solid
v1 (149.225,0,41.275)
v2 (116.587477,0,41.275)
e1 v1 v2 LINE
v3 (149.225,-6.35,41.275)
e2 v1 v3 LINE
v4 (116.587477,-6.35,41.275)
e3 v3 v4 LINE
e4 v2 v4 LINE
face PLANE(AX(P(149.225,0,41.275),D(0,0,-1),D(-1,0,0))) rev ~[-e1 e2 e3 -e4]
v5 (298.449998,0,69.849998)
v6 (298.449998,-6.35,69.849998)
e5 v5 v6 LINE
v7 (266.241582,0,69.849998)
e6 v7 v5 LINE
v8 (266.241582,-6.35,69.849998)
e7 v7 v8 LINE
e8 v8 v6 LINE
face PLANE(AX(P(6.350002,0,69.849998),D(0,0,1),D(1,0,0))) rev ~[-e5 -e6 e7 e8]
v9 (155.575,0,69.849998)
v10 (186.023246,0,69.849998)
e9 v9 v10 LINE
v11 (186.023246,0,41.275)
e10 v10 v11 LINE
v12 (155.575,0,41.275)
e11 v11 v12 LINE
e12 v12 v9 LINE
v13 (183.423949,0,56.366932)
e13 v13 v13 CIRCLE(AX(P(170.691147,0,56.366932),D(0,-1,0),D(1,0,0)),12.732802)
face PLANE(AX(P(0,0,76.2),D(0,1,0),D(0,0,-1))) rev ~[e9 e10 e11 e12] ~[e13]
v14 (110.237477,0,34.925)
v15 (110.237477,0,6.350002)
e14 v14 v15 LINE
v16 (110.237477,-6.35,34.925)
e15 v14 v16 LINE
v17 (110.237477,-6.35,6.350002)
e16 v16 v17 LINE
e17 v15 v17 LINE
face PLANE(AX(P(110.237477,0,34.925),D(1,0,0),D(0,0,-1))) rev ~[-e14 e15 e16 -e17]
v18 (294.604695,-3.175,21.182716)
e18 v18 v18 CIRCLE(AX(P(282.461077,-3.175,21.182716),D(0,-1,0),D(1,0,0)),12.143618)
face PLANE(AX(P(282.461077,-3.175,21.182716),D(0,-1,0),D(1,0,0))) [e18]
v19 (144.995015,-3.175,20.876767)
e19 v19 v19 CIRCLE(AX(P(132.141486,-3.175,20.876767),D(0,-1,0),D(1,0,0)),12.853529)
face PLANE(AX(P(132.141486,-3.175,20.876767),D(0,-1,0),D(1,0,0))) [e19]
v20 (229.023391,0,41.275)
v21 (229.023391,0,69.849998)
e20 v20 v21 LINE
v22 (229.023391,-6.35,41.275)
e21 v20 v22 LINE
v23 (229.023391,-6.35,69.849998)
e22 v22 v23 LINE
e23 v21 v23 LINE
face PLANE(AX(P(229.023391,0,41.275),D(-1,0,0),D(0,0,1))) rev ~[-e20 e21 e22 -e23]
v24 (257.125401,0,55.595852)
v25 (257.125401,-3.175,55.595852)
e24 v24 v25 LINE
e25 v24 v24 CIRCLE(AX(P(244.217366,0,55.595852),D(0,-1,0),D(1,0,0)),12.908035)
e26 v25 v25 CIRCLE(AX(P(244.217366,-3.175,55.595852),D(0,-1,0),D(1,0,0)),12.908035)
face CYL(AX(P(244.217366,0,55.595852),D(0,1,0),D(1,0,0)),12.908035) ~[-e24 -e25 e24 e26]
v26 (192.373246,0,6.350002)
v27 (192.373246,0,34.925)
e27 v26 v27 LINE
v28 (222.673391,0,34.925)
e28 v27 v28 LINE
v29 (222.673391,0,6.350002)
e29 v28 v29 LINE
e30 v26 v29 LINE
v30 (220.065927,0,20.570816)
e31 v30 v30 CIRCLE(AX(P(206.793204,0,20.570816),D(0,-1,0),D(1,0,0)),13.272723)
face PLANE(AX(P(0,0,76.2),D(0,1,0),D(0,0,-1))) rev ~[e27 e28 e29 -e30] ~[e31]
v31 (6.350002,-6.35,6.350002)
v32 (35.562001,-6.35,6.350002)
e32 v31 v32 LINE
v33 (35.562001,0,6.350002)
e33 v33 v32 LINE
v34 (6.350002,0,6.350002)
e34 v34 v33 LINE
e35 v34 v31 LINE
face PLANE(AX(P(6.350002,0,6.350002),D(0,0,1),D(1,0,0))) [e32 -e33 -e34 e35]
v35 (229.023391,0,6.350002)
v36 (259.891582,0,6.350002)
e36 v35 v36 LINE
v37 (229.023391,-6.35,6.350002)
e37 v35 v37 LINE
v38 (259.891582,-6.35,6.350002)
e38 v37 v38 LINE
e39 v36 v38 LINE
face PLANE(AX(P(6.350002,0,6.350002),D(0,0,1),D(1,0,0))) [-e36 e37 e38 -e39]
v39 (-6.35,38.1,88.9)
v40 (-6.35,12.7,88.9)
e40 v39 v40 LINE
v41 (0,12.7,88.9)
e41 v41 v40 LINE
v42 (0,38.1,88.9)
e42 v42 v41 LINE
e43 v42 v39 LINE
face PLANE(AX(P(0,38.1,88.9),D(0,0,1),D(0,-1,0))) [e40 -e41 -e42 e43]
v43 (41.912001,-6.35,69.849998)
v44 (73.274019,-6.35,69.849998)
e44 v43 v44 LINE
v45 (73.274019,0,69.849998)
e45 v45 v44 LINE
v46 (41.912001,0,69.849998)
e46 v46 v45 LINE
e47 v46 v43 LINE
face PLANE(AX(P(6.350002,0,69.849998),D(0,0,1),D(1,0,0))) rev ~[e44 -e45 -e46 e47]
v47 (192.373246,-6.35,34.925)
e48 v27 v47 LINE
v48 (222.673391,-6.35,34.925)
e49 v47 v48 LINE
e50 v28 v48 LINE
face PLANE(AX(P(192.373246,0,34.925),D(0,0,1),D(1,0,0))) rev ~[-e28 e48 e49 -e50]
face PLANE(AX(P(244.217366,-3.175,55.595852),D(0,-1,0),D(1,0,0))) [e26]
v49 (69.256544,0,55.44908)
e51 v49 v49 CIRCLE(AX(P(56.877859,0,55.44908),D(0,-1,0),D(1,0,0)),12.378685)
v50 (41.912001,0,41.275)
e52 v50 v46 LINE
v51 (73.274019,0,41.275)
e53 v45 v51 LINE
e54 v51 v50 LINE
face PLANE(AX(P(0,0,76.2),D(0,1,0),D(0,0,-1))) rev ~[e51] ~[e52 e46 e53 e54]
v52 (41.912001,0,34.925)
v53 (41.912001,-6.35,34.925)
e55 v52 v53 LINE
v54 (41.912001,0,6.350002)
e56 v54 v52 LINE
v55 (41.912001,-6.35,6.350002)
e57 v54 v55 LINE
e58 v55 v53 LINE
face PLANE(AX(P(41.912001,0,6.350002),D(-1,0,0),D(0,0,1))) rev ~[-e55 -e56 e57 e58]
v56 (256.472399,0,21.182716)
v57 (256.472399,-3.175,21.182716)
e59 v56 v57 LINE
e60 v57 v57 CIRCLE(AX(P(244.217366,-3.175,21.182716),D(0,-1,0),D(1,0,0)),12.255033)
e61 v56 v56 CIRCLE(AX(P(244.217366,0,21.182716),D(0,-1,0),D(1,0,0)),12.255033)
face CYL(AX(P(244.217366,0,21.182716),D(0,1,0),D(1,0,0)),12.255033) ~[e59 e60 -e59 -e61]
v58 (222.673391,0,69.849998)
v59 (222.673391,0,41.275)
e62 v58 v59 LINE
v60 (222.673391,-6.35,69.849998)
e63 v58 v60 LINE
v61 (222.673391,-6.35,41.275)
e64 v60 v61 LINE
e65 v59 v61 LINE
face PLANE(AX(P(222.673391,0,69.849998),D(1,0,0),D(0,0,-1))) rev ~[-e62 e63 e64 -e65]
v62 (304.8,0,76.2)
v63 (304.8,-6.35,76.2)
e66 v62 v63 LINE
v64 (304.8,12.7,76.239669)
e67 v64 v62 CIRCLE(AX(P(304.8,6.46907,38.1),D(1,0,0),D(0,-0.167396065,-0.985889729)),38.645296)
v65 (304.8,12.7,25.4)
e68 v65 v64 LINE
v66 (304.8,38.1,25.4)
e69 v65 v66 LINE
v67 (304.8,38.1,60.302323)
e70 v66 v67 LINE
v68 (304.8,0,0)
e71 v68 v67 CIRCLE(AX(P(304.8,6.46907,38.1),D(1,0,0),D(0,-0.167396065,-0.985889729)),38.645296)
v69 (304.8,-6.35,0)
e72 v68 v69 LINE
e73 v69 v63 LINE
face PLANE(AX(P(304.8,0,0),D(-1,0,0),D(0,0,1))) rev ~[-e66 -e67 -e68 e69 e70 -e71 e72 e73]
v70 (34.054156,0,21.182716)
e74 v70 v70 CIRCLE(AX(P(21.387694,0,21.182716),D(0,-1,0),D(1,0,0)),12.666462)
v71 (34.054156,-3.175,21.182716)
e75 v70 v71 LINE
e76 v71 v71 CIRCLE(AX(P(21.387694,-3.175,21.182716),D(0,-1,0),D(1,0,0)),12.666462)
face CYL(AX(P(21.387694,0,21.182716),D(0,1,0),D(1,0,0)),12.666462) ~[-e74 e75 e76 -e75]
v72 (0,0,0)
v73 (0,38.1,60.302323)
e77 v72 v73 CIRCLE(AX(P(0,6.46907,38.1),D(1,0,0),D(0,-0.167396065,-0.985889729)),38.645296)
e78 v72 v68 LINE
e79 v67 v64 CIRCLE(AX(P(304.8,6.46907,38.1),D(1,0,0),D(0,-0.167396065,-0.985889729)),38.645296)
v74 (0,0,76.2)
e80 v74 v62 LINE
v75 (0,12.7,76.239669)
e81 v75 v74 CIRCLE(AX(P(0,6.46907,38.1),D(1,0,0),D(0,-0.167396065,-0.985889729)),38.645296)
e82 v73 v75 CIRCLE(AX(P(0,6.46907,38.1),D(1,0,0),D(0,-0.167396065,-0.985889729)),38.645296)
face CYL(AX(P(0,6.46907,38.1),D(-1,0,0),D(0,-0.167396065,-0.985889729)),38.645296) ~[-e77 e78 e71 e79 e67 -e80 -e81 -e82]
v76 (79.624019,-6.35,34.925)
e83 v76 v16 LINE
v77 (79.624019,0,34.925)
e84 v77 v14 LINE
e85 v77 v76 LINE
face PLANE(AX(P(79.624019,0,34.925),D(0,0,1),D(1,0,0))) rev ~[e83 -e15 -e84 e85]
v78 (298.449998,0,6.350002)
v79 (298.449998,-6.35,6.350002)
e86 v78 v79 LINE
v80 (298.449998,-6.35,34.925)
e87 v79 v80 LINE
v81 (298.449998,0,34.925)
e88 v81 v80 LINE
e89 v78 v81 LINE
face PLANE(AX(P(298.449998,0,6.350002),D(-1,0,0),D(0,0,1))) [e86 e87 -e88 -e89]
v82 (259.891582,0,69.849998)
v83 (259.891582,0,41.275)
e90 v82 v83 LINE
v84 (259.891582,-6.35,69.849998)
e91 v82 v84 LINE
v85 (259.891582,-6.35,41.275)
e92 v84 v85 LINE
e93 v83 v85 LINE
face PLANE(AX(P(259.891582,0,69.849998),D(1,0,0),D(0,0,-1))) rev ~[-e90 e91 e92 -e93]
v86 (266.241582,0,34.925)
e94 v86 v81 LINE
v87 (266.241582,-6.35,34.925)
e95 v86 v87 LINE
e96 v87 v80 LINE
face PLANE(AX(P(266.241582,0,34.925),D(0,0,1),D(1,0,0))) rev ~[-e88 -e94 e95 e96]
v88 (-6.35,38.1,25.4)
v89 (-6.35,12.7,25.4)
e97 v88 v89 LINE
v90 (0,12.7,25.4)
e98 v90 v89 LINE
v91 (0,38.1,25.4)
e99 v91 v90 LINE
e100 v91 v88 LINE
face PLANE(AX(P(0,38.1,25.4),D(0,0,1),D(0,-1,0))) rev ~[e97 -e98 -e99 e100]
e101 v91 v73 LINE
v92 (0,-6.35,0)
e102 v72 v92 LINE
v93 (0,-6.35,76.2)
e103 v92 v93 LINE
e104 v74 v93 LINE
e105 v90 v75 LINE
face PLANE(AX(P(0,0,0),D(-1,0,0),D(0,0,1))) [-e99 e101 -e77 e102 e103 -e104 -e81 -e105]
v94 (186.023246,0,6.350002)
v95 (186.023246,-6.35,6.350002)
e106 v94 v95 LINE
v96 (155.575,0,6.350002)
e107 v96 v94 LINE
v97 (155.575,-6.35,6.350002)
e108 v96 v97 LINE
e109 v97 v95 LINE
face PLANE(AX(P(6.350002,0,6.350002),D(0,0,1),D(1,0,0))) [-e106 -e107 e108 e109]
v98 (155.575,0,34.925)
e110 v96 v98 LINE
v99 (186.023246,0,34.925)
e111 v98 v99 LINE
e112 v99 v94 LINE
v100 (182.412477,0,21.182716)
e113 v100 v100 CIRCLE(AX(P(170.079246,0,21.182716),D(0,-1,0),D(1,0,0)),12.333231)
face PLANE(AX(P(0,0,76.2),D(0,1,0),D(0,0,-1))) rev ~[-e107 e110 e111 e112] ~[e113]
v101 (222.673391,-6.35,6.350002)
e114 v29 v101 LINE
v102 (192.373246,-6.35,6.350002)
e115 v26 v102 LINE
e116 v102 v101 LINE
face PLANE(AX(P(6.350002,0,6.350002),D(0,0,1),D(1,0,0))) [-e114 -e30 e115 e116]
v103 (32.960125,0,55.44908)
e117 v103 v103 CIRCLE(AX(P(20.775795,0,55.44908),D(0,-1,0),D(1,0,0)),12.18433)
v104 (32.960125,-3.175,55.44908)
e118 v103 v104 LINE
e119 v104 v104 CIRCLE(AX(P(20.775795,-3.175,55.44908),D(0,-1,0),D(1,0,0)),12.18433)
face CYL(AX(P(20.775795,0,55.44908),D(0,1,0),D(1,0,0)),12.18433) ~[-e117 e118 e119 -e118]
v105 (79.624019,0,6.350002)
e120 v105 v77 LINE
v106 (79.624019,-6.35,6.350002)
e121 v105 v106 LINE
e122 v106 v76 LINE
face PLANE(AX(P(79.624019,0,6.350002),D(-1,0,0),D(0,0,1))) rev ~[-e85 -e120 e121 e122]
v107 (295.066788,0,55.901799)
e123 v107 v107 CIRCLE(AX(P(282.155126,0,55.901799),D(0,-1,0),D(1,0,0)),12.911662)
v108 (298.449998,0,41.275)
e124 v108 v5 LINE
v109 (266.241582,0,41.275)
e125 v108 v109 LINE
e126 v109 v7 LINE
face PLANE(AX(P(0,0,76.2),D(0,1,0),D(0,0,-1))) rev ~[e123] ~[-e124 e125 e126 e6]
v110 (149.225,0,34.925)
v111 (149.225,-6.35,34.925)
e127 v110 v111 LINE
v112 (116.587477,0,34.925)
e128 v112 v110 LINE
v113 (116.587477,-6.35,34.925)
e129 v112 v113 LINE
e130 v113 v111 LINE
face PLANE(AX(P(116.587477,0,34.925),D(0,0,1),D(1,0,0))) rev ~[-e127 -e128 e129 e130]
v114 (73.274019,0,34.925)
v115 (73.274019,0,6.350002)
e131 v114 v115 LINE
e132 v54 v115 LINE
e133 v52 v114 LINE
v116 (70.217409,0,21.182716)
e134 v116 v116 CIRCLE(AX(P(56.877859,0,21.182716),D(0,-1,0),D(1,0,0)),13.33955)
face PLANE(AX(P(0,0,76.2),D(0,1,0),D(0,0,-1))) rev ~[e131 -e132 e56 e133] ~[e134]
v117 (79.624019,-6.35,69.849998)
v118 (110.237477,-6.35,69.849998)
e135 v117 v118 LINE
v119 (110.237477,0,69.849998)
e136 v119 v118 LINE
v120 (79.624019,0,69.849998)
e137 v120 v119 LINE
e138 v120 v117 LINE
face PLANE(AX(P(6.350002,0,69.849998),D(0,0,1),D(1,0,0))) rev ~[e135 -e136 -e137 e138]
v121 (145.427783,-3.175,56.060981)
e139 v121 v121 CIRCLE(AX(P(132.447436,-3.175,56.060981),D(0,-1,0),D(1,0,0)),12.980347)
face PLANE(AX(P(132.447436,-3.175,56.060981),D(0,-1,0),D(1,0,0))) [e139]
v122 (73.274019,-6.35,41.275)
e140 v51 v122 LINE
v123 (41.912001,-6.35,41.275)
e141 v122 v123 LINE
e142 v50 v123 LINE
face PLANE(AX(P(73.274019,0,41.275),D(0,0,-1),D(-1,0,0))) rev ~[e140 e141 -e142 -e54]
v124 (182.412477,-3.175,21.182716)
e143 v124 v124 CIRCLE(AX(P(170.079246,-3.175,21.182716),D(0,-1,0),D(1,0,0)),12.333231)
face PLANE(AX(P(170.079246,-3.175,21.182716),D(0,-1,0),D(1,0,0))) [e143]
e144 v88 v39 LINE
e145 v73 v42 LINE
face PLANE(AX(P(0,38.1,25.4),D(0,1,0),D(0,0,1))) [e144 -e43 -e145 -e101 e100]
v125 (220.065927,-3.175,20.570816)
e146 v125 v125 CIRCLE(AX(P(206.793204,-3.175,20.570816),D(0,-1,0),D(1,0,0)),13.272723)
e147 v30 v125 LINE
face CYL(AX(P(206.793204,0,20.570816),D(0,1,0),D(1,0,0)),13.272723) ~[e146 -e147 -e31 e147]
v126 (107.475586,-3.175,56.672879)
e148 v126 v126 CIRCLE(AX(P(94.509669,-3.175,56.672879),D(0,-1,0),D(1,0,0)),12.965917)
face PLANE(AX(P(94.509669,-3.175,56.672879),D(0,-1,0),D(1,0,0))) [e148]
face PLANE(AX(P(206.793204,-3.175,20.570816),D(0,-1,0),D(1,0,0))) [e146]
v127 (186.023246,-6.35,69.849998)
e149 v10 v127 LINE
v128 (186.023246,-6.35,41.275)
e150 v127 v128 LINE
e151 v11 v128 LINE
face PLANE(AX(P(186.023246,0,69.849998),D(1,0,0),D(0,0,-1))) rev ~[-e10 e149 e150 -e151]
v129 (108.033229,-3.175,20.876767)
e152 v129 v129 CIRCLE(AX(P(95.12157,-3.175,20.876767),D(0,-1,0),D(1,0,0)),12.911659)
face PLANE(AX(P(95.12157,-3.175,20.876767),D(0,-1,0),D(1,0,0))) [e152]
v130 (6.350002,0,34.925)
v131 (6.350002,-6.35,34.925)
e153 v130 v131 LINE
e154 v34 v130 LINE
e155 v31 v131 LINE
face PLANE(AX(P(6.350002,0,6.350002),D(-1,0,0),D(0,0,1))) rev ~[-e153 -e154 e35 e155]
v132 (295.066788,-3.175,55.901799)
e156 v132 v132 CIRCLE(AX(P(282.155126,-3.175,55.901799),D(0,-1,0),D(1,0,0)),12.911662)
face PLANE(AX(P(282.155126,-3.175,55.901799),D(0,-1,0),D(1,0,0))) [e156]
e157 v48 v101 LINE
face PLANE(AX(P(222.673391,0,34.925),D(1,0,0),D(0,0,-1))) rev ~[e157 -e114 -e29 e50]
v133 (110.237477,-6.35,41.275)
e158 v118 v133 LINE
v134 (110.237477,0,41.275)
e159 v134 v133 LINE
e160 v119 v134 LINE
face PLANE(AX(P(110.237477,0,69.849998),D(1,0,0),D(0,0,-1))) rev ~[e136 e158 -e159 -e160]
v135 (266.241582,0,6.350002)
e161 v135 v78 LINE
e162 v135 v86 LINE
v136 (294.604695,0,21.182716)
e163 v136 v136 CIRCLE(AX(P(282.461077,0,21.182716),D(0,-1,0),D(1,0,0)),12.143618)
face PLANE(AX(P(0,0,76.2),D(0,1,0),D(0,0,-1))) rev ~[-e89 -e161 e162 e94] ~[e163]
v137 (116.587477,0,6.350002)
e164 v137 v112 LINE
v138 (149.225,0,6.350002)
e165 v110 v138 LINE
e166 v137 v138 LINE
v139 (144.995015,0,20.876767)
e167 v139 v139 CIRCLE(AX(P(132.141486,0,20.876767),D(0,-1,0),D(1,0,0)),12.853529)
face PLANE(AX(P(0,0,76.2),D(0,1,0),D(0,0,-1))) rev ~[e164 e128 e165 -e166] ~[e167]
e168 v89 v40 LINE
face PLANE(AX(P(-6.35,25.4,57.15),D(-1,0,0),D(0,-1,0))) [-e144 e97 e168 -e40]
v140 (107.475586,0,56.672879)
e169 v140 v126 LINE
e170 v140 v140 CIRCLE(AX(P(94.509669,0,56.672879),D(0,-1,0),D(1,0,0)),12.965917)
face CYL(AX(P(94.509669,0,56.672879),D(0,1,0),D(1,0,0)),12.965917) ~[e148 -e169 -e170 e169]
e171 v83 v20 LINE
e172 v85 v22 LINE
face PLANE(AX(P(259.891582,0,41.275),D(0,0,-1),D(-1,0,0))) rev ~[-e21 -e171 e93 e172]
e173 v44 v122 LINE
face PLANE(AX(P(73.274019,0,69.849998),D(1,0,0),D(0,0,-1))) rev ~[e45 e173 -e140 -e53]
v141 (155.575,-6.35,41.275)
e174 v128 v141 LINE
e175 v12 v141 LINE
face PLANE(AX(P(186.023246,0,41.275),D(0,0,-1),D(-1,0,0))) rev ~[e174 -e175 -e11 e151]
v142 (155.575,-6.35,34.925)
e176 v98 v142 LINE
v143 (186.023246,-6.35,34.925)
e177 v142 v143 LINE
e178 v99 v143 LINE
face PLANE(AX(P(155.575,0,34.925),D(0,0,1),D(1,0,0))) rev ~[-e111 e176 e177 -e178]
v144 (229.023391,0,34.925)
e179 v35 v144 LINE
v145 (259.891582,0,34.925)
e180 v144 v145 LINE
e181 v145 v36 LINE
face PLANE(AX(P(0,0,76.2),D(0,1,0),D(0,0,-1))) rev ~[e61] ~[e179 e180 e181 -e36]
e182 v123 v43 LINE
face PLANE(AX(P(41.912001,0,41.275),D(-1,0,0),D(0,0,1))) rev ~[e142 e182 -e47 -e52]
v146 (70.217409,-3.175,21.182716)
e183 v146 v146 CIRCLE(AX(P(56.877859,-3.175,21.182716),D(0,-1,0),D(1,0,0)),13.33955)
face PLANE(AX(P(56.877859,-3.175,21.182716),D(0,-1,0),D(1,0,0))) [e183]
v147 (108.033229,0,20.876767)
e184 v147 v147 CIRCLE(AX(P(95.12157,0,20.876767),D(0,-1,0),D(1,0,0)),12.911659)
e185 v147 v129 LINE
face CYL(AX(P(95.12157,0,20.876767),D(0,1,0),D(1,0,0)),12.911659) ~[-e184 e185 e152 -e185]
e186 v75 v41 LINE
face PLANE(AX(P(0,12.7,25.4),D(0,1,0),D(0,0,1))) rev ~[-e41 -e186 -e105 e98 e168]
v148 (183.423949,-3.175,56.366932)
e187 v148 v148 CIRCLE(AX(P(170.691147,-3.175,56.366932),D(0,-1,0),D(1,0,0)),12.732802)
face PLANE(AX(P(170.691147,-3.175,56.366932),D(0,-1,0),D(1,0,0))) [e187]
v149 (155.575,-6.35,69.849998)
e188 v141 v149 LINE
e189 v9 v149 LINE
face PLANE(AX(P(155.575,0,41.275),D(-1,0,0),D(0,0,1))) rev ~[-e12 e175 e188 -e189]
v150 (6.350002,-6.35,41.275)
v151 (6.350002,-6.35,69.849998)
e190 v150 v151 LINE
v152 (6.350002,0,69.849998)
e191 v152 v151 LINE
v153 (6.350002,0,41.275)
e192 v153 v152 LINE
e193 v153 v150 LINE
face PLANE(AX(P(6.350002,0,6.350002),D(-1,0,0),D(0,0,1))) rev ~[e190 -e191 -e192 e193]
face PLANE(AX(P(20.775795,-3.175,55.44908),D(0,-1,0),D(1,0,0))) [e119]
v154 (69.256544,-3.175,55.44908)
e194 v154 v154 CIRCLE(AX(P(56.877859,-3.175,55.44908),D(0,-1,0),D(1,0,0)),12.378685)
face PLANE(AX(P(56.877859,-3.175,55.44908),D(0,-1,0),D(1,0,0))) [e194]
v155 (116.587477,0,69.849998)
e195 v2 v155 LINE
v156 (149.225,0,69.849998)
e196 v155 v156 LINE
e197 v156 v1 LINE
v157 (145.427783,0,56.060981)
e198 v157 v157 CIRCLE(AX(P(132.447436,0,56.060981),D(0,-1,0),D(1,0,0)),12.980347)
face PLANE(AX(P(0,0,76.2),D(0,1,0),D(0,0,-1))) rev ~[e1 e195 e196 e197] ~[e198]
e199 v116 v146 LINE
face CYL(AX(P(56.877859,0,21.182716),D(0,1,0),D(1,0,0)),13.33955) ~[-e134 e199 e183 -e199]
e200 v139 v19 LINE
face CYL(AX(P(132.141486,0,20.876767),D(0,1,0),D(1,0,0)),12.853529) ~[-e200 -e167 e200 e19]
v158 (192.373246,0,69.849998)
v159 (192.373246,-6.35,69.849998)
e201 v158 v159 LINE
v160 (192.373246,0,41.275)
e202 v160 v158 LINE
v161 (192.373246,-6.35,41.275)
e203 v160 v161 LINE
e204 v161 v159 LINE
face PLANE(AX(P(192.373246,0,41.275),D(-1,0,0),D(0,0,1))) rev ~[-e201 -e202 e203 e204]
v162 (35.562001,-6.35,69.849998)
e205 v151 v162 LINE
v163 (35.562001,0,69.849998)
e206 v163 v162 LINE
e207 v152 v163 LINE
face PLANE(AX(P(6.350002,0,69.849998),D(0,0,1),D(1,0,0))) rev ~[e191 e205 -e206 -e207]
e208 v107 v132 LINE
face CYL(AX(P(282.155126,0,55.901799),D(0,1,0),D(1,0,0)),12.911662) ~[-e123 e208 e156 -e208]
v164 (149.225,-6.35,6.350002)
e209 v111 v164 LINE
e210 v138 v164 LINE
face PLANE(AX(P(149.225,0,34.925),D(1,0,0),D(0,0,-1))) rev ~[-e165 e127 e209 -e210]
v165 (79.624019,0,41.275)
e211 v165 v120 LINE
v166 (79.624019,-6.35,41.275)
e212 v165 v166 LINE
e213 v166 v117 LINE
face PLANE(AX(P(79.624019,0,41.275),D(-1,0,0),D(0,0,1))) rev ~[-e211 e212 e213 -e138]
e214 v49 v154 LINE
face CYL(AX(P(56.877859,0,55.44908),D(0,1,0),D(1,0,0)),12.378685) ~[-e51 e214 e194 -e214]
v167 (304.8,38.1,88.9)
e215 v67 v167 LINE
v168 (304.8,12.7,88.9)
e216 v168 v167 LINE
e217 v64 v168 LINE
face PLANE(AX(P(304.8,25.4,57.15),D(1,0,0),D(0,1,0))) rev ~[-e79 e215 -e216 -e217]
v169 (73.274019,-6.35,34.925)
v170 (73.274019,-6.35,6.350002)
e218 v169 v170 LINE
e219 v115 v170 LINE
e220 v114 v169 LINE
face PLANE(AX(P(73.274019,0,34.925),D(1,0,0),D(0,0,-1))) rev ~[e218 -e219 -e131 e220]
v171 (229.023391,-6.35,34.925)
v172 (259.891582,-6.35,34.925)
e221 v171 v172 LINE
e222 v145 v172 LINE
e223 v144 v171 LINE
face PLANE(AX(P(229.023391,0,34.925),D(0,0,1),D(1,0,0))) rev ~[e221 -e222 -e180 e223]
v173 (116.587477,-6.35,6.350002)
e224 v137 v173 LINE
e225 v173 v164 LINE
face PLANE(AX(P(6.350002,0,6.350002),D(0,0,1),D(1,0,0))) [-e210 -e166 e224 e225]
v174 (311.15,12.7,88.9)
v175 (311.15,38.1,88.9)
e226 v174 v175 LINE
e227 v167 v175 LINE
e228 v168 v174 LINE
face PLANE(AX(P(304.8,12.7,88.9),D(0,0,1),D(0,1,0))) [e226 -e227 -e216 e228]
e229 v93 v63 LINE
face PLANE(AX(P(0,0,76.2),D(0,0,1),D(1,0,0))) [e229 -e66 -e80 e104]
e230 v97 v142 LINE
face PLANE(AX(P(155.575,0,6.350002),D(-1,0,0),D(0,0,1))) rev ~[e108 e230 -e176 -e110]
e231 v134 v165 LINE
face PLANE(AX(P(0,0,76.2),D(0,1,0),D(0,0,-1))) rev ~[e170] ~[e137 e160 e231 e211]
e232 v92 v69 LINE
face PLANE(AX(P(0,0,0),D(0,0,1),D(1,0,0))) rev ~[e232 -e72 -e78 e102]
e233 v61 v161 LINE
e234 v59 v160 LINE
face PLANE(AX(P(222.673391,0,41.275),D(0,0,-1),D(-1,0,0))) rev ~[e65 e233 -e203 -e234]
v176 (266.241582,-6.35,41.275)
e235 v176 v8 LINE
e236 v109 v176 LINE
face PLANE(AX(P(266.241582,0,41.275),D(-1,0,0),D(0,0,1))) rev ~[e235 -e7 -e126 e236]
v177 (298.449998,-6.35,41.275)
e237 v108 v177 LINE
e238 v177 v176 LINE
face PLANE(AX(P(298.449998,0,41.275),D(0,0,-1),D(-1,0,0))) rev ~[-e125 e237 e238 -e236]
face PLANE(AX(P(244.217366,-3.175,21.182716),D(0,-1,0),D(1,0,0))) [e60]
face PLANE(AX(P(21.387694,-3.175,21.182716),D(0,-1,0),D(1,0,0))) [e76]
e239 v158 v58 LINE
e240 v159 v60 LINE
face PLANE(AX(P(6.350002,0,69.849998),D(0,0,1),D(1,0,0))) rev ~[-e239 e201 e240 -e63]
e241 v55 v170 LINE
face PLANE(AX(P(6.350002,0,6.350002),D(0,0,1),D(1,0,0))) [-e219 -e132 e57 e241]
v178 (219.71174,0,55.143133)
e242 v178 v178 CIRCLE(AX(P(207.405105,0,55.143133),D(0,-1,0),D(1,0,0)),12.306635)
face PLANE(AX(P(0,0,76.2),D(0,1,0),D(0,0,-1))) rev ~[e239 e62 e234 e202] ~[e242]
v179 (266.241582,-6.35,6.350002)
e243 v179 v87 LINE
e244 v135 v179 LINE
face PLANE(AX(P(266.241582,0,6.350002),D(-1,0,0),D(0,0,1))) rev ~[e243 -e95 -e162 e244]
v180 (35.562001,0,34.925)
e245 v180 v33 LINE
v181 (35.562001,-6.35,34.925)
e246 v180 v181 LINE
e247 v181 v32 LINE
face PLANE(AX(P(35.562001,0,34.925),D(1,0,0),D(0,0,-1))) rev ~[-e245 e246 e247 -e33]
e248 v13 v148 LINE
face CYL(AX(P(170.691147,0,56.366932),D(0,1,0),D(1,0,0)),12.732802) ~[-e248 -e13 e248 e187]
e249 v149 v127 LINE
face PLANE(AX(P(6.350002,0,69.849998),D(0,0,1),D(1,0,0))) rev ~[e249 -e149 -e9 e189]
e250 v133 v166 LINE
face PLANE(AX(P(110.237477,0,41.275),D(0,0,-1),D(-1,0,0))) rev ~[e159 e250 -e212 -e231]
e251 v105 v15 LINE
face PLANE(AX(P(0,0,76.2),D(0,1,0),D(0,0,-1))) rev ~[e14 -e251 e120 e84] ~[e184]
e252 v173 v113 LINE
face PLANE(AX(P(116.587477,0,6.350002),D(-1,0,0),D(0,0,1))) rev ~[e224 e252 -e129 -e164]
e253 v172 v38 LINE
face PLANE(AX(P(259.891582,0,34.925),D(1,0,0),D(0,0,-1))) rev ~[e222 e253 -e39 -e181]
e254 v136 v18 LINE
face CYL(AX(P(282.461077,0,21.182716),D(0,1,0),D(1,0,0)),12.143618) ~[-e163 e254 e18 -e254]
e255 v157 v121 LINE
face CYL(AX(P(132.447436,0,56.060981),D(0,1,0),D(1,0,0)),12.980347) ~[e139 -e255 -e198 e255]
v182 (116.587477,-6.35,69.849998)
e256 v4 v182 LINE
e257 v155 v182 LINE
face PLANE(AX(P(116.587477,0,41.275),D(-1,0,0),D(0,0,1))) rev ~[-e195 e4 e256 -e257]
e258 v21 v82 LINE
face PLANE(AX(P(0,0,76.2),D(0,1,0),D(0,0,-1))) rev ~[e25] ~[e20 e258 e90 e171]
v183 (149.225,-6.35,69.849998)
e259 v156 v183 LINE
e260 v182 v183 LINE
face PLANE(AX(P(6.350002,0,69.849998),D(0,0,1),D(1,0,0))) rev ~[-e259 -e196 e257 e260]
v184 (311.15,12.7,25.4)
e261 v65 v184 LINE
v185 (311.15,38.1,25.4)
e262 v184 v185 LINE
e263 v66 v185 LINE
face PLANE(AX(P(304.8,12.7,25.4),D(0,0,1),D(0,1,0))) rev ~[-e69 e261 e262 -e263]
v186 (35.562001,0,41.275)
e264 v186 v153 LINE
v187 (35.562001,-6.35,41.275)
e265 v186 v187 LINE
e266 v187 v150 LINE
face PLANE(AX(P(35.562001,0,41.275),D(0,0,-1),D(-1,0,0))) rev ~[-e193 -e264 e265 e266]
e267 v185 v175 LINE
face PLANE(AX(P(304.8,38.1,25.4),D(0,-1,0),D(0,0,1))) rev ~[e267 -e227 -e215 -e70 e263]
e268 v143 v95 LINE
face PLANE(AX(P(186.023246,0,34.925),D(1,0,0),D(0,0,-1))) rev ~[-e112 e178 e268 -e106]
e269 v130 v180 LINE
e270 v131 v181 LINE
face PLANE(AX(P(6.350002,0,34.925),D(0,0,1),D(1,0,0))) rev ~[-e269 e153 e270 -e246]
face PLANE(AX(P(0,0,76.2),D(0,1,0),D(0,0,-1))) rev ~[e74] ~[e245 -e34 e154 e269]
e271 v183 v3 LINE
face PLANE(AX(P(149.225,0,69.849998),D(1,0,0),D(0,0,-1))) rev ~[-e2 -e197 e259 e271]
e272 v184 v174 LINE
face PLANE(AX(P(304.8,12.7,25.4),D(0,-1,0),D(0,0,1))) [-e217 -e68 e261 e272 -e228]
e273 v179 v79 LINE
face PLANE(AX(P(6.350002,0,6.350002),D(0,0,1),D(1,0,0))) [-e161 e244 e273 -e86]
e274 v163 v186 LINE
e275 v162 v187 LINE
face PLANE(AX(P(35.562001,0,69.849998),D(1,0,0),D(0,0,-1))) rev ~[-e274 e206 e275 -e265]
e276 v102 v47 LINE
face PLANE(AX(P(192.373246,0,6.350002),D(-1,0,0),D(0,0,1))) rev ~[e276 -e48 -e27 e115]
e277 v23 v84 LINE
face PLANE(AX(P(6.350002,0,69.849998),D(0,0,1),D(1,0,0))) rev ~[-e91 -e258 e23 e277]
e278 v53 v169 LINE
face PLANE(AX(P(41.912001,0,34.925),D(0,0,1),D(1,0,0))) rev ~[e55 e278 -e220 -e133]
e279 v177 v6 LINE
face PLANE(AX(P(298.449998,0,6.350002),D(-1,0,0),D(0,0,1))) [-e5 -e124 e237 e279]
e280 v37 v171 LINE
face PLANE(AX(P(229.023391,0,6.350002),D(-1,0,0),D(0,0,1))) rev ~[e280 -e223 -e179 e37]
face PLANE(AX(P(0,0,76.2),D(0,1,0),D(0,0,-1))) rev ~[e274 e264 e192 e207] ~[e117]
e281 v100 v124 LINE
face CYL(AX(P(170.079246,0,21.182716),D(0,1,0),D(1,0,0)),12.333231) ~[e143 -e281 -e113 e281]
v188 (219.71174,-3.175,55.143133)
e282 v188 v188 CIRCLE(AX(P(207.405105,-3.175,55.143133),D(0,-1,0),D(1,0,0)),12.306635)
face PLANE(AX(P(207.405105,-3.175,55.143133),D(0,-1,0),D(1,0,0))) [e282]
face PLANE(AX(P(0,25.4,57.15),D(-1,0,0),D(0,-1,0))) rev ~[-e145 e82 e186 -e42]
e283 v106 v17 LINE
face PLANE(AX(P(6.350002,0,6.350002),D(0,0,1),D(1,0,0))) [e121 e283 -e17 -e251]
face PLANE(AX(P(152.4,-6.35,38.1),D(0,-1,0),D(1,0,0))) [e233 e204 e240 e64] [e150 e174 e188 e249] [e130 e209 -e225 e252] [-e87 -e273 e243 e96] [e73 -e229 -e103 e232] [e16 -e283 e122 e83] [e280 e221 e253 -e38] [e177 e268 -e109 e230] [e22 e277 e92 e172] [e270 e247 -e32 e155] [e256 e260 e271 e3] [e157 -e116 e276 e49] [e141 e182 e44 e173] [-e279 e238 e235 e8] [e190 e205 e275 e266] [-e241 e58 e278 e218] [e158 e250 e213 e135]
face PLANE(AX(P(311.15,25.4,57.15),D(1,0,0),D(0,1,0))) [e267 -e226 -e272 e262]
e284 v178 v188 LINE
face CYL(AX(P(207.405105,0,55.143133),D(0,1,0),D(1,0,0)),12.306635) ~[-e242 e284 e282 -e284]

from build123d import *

# Parameters (mm, degrees)
F1_DEPTH  = 304.8
F2_W      = 25.4
F2_H      = 63.5
F3_DEPTH  = 6.35
F4_W      = 25.4
F4_H      = 63.5
F5_DEPTH  = 6.35
F6_W      = 304.8
F6_H      = 76.2
F6_W_2    = 292.099996
F6_H_2    = 63.499996
F7_DEPTH  = 6.35
F9_DEPTH  = 6.35
F10_R     = 12.18433
F10_R_2   = 12.378685
F10_R_3   = 12.666462
F10_R_4   = 13.33955
F10_R_5   = 12.965917
F10_R_6   = 12.911659
F10_R_7   = 12.980347
F10_R_8   = 12.853529
F10_R_9   = 12.732802
F10_R_10  = 12.333231
F10_R_11  = 12.306635
F10_R_12  = 13.272723
F10_R_13  = 12.908035
F10_R_14  = 12.255033
F10_R_15  = 12.911662
F10_R_16  = 12.143618
F11_DEPTH = 3.175


with BuildPart() as f1:
    # F0 (on Right) → F1 (new body)
    with BuildSketch(Plane.YZ):
        with BuildLine():
            Line((0, 76.2), (0, 0))
            ThreePointArc((0, 0), (45.114366, 38.1), (0, 76.2))
        make_face()
    extrude(amount=F1_DEPTH)

    # F2 (on face) → F3 (join)
    with BuildSketch(Plane(origin=(0, 0, 0), x_dir=(0, -1, 0), z_dir=(-1, 0, 0))):
        with Locations((-25.4, 57.15)):
            Rectangle(F2_W, F2_H)
    extrude(amount=F3_DEPTH)

    # F4 (on face) → F5 (join)
    with BuildSketch(Plane.YZ.offset(304.8)):
        with Locations((25.4, 57.15)):
            Rectangle(F4_W, F4_H)
    extrude(amount=F5_DEPTH)

    # F6 (on face) → F7 (join)
    with BuildSketch(Plane.XZ):
        with Locations((152.4, 38.1)):
            Rectangle(F6_W, F6_H)
        with Locations((152.4, 38.1)):
            Rectangle(F6_W_2, F6_H_2, mode=Mode.SUBTRACT)
    extrude(amount=F7_DEPTH)

    # F8 (on face) → F9 (join)
    with BuildSketch(Plane.XZ):
        Polygon((298.449998, 34.925), (298.449998, 41.275), (266.241582, 41.275), (266.241582, 69.849998), (259.891582, 69.849998), (259.891582, 41.275), (229.023391, 41.275), (229.023391, 69.849998), (222.673391, 69.849998), (222.673391, 41.275), (192.373246, 41.275), (192.373246, 69.849998), (186.023246, 69.849998), (186.023246, 41.275), (155.575, 41.275), (155.575, 69.849998), (149.225, 69.849998), (149.225, 41.275), (116.587477, 41.275), (116.587477, 69.849998), (110.237477, 69.849998), (110.237477, 41.275), (79.624019, 41.275), (79.624019, 69.849998), (73.274019, 69.849998), (73.274019, 41.275), (41.912001, 41.275), (41.912001, 69.849998), (35.562001, 69.849998), (35.562001, 41.275), (6.350002, 41.275), (6.350002, 34.925), (35.562001, 34.925), (35.562001, 6.350002), (41.912001, 6.350002), (41.912001, 34.925), (73.274019, 34.925), (73.274019, 6.350002), (79.624019, 6.350002), (79.624019, 34.925), (110.237477, 34.925), (110.237477, 6.350002), (116.587477, 6.350002), (116.587477, 34.925), (149.225, 34.925), (149.225, 6.350002), (155.575, 6.350002), (155.575, 34.925), (186.023246, 34.925), (186.023246, 6.350002), (192.373246, 6.350002), (192.373246, 34.925), (222.673391, 34.925), (222.673391, 6.350002), (229.023391, 6.350002), (229.023391, 34.925), (259.891582, 34.925), (259.891582, 6.350002), (266.241582, 6.350002), (266.241582, 34.925), align=None)
    extrude(amount=F9_DEPTH)

    # F10 (on face) → F11 (join)
    with BuildSketch(Plane.XZ):
        with Locations((20.775795, 55.44908)):
            Circle(F10_R)
        with Locations((56.877859, 55.44908)):
            Circle(F10_R_2)
        with Locations((21.387694, 21.182716)):
            Circle(F10_R_3)
        with Locations((56.877859, 21.182716)):
            Circle(F10_R_4)
        with Locations((94.509669, 56.672879)):
            Circle(F10_R_5)
        with Locations((95.12157, 20.876767)):
            Circle(F10_R_6)
        with Locations((132.447436, 56.060981)):
            Circle(F10_R_7)
        with Locations((132.141486, 20.876767)):
            Circle(F10_R_8)
        with Locations((170.691147, 56.366932)):
            Circle(F10_R_9)
        with Locations((170.079246, 21.182716)):
            Circle(F10_R_10)
        with Locations((207.405105, 55.143133)):
            Circle(F10_R_11)
        with Locations((206.793204, 20.570816)):
            Circle(F10_R_12)
        with Locations((244.217366, 55.595852)):
            Circle(F10_R_13)
        with Locations((244.217366, 21.182716)):
            Circle(F10_R_14)
        with Locations((282.155126, 55.901799)):
            Circle(F10_R_15)
        with Locations((282.461077, 21.182716)):
            Circle(F10_R_16)
    extrude(amount=F11_DEPTH)


solid = f1.part
